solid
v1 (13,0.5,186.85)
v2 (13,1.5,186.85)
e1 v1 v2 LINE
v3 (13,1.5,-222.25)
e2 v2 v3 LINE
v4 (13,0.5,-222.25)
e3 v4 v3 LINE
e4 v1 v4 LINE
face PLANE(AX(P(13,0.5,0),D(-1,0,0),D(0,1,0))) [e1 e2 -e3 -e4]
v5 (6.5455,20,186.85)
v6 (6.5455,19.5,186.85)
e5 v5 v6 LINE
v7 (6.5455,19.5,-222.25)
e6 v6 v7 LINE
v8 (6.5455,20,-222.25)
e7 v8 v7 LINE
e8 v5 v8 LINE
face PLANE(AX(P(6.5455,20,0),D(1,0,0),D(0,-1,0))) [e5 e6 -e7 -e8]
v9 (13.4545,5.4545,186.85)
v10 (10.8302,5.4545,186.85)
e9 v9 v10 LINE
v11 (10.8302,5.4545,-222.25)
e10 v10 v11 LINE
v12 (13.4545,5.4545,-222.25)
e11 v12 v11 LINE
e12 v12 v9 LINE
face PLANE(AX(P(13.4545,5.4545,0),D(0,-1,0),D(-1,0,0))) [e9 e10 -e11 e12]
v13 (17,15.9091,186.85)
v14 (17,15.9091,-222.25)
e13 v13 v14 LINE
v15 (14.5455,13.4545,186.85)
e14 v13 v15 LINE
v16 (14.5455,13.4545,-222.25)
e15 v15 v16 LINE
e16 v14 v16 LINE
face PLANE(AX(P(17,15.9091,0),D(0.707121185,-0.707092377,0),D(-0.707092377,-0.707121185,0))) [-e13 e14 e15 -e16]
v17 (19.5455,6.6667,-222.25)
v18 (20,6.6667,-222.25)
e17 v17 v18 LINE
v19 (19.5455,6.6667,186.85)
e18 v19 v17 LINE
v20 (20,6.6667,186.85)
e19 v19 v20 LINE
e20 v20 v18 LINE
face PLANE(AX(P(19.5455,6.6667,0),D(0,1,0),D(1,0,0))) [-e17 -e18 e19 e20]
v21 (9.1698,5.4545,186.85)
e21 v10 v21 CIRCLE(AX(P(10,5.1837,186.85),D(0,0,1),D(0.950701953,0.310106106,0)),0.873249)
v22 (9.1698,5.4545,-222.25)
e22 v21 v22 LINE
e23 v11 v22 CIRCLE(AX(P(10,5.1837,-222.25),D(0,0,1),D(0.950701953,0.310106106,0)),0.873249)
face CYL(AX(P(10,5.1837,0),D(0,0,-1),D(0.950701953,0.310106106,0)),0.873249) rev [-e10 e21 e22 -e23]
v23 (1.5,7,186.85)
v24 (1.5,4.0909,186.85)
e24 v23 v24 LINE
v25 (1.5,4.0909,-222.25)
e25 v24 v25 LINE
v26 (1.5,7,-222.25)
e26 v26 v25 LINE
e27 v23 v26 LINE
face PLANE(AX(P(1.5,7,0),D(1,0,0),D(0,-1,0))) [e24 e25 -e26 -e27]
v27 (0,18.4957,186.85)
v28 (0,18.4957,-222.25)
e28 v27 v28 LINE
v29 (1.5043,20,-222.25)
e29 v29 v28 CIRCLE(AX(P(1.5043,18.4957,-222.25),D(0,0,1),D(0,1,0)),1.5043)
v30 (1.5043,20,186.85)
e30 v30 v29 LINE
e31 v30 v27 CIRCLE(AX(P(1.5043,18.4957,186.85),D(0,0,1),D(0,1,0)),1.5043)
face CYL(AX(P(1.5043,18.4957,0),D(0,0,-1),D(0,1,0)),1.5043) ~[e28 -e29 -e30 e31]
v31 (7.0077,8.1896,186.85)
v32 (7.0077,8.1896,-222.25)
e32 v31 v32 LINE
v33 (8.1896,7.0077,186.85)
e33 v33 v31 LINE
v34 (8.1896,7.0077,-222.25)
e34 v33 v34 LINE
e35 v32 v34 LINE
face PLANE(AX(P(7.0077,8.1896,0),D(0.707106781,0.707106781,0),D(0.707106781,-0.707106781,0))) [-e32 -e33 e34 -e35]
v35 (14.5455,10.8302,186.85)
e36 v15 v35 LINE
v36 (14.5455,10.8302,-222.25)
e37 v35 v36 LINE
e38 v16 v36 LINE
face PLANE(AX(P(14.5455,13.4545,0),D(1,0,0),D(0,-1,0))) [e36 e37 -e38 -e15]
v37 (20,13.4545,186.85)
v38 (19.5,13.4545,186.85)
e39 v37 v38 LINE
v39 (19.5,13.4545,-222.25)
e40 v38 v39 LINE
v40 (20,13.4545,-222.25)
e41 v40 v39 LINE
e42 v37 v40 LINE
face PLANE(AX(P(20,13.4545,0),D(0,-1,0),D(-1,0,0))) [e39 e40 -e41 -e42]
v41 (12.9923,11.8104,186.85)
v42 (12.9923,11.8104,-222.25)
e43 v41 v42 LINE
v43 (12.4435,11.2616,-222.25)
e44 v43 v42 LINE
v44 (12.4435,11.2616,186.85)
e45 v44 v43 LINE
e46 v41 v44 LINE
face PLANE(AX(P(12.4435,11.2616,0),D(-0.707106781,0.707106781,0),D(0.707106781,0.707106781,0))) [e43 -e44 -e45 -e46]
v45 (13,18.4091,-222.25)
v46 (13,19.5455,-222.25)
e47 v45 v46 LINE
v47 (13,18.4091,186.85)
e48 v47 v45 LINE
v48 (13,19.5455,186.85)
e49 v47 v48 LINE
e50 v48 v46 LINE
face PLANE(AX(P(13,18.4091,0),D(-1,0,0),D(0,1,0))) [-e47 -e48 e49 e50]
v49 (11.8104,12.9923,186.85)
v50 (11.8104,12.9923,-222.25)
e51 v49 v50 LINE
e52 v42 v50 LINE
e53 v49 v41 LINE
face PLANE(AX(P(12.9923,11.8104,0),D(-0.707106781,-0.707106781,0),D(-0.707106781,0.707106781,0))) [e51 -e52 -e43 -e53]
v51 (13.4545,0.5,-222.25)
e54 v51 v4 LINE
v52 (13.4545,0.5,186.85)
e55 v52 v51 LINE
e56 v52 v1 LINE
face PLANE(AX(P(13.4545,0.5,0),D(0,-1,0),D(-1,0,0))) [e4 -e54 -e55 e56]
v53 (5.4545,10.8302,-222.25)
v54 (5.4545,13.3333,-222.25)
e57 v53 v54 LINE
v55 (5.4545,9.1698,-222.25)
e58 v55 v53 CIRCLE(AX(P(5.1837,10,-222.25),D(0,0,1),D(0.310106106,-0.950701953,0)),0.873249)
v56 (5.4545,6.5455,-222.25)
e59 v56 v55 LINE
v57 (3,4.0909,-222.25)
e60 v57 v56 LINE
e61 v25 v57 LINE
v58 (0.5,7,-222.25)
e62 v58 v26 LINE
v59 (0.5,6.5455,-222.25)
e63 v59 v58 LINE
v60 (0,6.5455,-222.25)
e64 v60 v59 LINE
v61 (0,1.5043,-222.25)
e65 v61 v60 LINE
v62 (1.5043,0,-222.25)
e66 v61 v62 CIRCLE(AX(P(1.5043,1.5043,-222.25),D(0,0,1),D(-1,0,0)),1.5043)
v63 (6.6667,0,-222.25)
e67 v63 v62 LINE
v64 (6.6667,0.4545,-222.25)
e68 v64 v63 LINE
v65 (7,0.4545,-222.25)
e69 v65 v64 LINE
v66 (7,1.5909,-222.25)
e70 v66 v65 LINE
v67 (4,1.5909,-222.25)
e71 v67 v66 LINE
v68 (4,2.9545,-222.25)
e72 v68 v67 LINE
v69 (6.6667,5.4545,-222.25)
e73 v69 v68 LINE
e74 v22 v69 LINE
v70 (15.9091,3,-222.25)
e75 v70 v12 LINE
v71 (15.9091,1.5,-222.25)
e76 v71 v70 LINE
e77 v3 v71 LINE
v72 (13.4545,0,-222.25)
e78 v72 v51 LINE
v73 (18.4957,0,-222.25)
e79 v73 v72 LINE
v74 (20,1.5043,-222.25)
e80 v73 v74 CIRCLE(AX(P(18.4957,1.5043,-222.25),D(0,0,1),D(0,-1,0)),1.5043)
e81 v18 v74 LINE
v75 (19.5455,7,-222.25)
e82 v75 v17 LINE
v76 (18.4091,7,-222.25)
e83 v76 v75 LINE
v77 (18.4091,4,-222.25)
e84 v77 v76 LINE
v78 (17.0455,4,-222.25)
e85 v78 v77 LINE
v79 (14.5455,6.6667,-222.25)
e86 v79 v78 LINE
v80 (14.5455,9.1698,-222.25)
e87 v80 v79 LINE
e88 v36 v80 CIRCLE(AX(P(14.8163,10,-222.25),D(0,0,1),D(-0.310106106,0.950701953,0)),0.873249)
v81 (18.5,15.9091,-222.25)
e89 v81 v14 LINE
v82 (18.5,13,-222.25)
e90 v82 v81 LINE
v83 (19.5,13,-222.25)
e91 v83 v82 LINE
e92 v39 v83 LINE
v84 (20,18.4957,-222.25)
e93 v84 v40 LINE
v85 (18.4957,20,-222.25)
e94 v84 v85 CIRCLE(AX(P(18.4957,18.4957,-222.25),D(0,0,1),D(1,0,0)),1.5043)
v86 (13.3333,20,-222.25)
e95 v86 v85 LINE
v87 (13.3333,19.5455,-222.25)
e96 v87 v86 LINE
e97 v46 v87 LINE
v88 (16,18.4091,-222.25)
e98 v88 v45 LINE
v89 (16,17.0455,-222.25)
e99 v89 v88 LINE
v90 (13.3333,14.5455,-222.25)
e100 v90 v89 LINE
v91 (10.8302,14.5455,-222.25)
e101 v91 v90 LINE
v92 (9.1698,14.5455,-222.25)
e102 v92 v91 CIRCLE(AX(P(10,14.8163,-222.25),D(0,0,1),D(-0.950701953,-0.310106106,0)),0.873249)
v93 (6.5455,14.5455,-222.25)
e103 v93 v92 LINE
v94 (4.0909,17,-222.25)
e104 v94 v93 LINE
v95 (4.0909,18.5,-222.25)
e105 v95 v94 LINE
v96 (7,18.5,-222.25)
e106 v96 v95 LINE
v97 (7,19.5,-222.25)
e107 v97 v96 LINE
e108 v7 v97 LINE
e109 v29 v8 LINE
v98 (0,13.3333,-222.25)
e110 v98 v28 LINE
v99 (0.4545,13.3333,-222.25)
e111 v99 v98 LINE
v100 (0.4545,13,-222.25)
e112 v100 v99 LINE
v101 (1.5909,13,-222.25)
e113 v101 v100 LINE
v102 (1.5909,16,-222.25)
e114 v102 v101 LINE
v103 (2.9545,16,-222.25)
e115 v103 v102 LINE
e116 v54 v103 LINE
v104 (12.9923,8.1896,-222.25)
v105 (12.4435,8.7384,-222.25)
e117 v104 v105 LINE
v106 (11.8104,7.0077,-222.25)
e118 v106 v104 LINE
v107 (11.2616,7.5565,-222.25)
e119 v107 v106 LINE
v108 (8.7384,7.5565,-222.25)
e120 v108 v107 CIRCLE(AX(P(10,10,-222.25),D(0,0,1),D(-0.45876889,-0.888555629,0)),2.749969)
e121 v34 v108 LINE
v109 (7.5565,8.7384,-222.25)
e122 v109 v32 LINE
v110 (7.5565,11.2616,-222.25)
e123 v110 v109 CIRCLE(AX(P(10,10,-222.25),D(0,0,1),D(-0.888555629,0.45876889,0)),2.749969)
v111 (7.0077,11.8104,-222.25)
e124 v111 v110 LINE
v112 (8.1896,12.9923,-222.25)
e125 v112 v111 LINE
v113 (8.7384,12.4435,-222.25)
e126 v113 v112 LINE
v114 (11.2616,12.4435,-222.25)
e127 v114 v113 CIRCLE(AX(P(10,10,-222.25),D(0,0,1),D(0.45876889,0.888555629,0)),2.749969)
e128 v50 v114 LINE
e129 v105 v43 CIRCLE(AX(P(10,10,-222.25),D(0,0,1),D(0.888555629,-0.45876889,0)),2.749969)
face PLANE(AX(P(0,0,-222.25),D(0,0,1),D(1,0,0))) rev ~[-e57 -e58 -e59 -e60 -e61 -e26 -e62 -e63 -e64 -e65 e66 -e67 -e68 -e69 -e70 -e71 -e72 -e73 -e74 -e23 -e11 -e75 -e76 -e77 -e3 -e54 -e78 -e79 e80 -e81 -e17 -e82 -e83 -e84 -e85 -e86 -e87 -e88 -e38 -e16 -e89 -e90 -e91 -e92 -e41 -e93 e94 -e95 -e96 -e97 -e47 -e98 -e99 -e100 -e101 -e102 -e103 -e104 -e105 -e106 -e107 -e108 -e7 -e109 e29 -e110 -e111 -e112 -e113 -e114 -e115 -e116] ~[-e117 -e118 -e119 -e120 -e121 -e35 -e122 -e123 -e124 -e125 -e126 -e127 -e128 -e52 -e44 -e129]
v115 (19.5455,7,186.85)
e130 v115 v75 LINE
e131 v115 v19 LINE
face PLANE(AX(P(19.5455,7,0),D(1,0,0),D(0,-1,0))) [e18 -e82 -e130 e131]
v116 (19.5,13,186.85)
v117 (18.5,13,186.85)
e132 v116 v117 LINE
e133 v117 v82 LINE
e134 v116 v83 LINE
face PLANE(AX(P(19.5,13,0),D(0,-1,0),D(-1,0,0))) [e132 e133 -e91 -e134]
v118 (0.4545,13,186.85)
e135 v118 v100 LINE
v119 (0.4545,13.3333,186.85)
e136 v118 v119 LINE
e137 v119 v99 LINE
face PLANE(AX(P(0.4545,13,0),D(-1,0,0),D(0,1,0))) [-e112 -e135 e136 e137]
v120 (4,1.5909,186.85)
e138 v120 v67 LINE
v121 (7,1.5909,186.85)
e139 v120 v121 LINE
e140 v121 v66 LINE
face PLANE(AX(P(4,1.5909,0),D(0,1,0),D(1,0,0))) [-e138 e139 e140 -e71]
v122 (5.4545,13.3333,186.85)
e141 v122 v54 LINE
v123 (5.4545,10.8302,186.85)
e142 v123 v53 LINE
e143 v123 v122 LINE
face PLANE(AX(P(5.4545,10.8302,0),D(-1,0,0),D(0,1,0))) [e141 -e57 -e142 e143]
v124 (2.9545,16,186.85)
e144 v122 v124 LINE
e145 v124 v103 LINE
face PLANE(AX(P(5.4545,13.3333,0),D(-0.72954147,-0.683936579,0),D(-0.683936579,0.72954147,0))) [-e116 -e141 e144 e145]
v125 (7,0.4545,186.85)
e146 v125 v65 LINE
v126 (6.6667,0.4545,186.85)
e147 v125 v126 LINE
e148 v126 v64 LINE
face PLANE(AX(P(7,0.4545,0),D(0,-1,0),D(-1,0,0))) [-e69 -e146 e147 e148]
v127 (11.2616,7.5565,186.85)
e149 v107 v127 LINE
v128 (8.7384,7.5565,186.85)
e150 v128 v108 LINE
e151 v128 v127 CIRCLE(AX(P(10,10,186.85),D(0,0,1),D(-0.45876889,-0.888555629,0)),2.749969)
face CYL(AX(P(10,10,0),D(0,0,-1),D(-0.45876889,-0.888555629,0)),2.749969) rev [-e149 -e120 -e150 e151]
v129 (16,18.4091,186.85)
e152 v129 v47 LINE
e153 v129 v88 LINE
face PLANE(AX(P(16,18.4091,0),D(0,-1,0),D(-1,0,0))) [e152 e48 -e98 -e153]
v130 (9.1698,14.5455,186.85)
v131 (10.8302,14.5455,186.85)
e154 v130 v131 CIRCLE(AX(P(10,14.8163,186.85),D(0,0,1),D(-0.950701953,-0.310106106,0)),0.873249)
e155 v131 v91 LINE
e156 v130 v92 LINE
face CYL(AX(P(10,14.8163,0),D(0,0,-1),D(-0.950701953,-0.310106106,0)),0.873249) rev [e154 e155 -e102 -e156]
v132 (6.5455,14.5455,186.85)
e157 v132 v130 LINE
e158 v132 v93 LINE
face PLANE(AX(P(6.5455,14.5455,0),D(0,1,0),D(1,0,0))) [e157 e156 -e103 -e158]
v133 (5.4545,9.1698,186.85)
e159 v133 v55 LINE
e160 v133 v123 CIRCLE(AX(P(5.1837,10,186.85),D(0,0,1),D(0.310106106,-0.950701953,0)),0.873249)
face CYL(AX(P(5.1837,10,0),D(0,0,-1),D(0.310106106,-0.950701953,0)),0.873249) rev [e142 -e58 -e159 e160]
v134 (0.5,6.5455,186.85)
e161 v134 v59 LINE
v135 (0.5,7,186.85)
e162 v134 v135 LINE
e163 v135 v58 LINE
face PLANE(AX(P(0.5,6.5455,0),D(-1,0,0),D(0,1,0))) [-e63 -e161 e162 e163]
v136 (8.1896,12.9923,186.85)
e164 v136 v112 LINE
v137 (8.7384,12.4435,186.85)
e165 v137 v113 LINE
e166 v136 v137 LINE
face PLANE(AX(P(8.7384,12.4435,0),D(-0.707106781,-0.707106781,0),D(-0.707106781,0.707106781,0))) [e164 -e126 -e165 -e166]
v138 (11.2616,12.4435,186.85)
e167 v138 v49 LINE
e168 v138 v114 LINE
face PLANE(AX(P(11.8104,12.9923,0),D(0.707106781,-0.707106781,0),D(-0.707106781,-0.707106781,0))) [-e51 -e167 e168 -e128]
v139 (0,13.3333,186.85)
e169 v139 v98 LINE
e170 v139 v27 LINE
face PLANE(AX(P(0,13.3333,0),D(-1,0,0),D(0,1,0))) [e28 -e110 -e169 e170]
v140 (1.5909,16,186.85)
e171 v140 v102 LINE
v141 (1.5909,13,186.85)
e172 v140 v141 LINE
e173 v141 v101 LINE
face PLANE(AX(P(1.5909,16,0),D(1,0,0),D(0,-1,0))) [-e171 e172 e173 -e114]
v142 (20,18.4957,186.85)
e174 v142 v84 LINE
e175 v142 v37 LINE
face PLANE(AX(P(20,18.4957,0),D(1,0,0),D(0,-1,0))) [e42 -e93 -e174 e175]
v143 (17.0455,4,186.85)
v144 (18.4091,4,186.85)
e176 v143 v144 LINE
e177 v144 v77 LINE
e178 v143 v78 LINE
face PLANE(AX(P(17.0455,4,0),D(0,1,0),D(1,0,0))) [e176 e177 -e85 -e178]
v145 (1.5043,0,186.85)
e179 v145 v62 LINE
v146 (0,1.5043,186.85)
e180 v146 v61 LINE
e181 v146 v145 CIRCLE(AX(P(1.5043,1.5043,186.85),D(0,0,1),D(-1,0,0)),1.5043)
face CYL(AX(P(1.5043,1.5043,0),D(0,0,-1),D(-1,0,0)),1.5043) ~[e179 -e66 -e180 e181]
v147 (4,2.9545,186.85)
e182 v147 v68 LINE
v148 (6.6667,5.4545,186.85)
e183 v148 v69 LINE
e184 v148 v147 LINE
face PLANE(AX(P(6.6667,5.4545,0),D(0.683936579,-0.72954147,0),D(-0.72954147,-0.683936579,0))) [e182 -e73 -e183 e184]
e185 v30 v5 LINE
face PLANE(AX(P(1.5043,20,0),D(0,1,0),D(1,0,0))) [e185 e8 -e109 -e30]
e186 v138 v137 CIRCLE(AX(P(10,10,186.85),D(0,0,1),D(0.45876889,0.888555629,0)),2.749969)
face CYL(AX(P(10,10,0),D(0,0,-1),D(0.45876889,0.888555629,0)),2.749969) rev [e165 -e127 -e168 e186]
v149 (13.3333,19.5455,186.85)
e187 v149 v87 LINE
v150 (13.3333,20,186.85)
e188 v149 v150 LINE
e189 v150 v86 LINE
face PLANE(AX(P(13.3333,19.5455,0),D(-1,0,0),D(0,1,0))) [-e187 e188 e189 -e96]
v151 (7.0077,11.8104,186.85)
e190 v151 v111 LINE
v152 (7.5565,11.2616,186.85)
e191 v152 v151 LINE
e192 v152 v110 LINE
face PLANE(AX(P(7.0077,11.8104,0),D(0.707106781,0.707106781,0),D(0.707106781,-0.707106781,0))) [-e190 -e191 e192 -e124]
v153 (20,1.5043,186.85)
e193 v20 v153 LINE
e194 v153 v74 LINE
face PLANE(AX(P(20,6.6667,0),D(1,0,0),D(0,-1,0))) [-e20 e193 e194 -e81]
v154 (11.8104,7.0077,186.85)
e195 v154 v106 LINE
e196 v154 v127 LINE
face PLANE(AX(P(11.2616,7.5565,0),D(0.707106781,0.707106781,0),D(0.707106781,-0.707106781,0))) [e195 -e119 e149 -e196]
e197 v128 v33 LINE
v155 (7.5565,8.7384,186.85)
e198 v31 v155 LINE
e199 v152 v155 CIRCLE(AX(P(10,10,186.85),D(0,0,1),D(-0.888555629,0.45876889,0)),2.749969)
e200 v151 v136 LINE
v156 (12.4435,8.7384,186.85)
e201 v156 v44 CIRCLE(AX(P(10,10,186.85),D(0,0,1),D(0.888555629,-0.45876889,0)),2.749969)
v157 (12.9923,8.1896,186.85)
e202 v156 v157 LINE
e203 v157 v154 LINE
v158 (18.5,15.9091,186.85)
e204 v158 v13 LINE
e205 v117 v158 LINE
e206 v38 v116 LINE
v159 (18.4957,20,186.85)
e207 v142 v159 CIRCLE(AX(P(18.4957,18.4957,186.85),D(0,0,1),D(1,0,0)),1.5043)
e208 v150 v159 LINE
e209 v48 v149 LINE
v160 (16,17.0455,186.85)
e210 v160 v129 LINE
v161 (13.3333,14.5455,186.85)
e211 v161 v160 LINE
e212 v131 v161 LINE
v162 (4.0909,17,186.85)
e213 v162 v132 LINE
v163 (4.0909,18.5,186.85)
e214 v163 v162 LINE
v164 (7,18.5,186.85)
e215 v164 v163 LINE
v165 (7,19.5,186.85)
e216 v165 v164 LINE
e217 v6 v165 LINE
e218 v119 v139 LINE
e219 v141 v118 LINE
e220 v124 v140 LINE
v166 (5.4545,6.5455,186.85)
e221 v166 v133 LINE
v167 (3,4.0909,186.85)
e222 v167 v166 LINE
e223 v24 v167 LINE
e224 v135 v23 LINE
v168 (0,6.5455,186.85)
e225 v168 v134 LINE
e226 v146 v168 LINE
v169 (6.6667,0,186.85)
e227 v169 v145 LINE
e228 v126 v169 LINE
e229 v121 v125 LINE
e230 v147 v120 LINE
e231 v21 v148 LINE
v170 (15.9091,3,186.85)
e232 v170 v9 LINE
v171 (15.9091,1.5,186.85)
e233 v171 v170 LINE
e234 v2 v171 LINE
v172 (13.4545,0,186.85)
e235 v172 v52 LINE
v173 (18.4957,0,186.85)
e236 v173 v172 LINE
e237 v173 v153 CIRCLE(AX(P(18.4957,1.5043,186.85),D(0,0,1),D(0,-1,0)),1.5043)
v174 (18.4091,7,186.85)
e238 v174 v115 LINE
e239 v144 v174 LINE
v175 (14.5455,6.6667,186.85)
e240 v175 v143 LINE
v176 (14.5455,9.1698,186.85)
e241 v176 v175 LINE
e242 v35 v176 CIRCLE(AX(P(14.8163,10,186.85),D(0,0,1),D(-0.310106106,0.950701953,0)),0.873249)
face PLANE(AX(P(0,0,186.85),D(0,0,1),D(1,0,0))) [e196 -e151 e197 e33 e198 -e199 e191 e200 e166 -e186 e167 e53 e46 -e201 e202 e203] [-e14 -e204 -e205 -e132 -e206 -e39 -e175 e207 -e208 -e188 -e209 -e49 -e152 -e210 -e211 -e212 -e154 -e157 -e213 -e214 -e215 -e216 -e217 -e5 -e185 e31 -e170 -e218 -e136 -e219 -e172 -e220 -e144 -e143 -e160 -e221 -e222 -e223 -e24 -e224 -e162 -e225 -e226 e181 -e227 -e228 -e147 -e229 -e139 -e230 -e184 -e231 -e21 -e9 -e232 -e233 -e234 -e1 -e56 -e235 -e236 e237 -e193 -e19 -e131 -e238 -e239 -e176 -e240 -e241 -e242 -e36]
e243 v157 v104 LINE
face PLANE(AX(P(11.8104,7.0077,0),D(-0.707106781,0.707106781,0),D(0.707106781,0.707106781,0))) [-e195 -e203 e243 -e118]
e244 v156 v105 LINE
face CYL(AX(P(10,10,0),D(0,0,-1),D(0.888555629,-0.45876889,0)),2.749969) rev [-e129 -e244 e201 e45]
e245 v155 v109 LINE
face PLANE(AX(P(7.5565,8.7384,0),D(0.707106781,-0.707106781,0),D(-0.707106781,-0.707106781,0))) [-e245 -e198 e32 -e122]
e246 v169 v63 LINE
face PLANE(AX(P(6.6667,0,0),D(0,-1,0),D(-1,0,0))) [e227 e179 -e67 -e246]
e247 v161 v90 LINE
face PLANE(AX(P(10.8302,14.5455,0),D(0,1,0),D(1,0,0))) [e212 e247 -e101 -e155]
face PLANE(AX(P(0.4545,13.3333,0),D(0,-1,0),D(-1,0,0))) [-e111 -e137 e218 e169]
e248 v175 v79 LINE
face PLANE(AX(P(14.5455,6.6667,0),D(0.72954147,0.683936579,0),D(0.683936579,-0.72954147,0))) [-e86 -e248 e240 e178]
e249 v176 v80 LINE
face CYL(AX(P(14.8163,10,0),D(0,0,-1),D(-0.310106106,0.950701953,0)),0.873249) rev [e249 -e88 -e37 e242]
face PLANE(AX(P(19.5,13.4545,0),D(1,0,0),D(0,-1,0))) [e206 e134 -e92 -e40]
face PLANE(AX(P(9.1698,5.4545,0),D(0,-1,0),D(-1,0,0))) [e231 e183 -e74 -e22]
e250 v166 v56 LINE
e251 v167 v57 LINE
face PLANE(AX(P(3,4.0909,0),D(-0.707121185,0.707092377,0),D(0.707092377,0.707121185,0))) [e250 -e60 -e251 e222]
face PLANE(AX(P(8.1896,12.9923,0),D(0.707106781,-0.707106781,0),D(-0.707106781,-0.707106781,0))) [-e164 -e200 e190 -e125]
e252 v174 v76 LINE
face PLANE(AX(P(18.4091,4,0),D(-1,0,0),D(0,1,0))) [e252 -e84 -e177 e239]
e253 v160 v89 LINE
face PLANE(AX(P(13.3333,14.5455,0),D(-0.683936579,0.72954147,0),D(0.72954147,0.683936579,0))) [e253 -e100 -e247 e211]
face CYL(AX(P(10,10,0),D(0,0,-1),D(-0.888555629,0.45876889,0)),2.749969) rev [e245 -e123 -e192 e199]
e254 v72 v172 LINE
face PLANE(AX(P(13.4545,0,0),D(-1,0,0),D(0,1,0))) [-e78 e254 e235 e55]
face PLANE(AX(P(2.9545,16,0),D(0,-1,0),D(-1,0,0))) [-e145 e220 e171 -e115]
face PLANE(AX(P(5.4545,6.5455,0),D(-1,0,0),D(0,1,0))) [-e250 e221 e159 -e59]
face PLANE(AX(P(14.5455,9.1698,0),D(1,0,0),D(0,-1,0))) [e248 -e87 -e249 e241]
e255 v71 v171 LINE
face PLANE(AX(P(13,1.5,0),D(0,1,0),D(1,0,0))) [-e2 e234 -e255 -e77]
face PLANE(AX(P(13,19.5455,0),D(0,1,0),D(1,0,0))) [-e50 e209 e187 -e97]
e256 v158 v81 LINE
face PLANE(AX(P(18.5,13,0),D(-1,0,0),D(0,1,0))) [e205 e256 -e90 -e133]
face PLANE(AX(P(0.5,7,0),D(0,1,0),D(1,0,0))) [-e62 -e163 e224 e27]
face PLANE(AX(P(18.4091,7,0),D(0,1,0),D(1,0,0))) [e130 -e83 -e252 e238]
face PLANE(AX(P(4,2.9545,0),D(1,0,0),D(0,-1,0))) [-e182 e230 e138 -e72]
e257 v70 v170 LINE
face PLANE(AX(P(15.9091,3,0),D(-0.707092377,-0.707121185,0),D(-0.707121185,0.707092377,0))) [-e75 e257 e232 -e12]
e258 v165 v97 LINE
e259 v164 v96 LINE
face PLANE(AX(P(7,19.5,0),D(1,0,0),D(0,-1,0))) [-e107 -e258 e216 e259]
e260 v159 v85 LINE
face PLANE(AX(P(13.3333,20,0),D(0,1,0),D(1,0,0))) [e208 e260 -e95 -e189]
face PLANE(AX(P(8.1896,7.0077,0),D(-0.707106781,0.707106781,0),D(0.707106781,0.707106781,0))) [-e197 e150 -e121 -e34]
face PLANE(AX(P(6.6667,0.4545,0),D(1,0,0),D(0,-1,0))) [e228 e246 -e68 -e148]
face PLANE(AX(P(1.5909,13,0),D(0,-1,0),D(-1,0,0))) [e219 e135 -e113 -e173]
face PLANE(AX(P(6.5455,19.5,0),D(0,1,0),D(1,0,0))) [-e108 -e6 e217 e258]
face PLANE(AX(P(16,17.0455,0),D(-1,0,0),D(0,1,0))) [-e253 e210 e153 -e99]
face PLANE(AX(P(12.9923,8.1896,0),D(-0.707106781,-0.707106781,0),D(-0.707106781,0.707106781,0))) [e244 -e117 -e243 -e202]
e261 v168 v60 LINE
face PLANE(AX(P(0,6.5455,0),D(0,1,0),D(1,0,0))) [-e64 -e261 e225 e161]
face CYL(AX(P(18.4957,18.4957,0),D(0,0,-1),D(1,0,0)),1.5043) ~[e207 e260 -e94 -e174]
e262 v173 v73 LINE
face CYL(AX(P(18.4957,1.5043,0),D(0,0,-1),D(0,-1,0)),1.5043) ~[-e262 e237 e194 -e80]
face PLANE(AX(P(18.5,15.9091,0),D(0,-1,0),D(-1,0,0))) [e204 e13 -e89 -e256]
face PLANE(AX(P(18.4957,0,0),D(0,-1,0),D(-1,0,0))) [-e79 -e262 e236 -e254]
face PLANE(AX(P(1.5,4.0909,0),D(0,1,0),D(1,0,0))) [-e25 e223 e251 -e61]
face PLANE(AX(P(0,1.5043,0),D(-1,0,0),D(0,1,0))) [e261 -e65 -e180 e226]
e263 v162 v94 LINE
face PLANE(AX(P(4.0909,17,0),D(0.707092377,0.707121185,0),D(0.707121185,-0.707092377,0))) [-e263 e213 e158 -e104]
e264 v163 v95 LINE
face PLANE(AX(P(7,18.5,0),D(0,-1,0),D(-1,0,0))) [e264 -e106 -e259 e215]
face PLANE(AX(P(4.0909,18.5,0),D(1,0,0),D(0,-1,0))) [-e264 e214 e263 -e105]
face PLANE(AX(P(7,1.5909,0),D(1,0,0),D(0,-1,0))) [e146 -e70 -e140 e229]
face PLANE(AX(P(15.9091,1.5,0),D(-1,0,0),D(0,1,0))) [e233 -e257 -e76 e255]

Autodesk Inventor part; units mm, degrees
ref_plane "YZ Plane" through (0, 0, 0) normal (1, 0, 0) x (0, 1, 0)
ref_plane "XZ Plane" through (0, 0, 0) normal (0, 1, 0) x (-1, 0, 0)
ref_plane "XY Plane" through (0, 0, 0) normal (0, 0, 1) x (1, 0, 0)
sketch "Sketch1" plane through (0, 0, 0) normal (0, 0, 1) x (1, 0, 0)
  line L0 (11.2616, 7.5565) -> (11.8104, 7.0077)
  line L1 (11.8104, 7.0077) -> (12.9923, 8.1896)
  line L2 (12.9923, 8.1896) -> (12.4435, 8.7384)
  arc A0 (12.4435, 8.7384) -> (12.4435, 11.2616) centre (10, 10) ccw
  line L3 (12.4435, 11.2616) -> (12.9923, 11.8104)
  line L4 (12.9923, 11.8104) -> (11.8104, 12.9923)
  line L5 (11.8104, 12.9923) -> (11.2616, 12.4435)
  arc A1 (11.2616, 12.4435) -> (8.7384, 12.4435) centre (10, 10) ccw
  line L6 (8.7384, 12.4435) -> (8.1896, 12.9923)
  line L7 (8.1896, 12.9923) -> (7.0077, 11.8104)
  line L8 (7.0077, 11.8104) -> (7.5565, 11.2616)
  arc A2 (7.5565, 11.2616) -> (7.5565, 8.7384) centre (10, 10) ccw
  line L9 (7.5565, 8.7384) -> (7.0077, 8.1896)
  line L10 (7.0077, 8.1896) -> (8.1896, 7.0077)
  line L11 (8.1896, 7.0077) -> (8.7384, 7.5565)
  arc A3 (8.7384, 7.5565) -> (11.2616, 7.5565) centre (10, 10) ccw
  line L12 (13.4545, 0) -> (13.4545, 0.5)
  line L13 (13.4545, 0.5) -> (13, 0.5)
  line L14 (13, 0.5) -> (13, 1.5)
  line L15 (13, 1.5) -> (15.9091, 1.5)
  line L16 (15.9091, 1.5) -> (15.9091, 3)
  line L17 (15.9091, 3) -> (13.4545, 5.4545)
  line L18 (13.4545, 5.4545) -> (10.8302, 5.4545)
  arc A4 (10.8302, 5.4545) -> (9.1698, 5.4545) centre (10, 5.1837) ccw
  line L19 (9.1698, 5.4545) -> (6.6667, 5.4545)
  line L20 (6.6667, 5.4545) -> (4, 2.9545)
  line L21 (4, 2.9545) -> (4, 1.5909)
  line L22 (4, 1.5909) -> (7, 1.5909)
  line L23 (7, 1.5909) -> (7, 0.4545)
  line L24 (7, 0.4545) -> (6.6667, 0.4545)
  line L25 (6.6667, 0.4545) -> (6.6667, 0)
  line L26 (6.6667, 0) -> (1.5043, 0)
  arc A5 (0, 1.5043) -> (1.5043, 0) centre (1.5043, 1.5043) ccw
  line L27 (0, 1.5043) -> (0, 6.5455)
  line L28 (0, 6.5455) -> (0.5, 6.5455)
  line L29 (0.5, 6.5455) -> (0.5, 7)
  line L30 (0.5, 7) -> (1.5, 7)
  line L31 (1.5, 7) -> (1.5, 4.0909)
  line L32 (1.5, 4.0909) -> (3, 4.0909)
  line L33 (3, 4.0909) -> (5.4545, 6.5455)
  line L34 (5.4545, 6.5455) -> (5.4545, 9.1698)
  arc A6 (5.4545, 9.1698) -> (5.4545, 10.8302) centre (5.1837, 10) ccw
  line L35 (5.4545, 10.8302) -> (5.4545, 13.3333)
  line L36 (5.4545, 13.3333) -> (2.9545, 16)
  line L37 (2.9545, 16) -> (1.5909, 16)
  line L38 (1.5909, 16) -> (1.5909, 13)
  line L39 (1.5909, 13) -> (0.4545, 13)
  line L40 (0.4545, 13) -> (0.4545, 13.3333)
  line L41 (0.4545, 13.3333) -> (0, 13.3333)
  line L42 (0, 13.3333) -> (0, 18.4957)
  arc A7 (1.5043, 20) -> (0, 18.4957) centre (1.5043, 18.4957) ccw
  line L43 (1.5043, 20) -> (6.5455, 20)
  line L44 (6.5455, 20) -> (6.5455, 19.5)
  line L45 (6.5455, 19.5) -> (7, 19.5)
  line L46 (7, 19.5) -> (7, 18.5)
  line L47 (7, 18.5) -> (4.0909, 18.5)
  line L48 (4.0909, 18.5) -> (4.0909, 17)
  line L49 (4.0909, 17) -> (6.5455, 14.5455)
  line L50 (6.5455, 14.5455) -> (9.1698, 14.5455)
  arc A8 (9.1698, 14.5455) -> (10.8302, 14.5455) centre (10, 14.8163) ccw
  line L51 (10.8302, 14.5455) -> (13.3333, 14.5455)
  line L52 (13.3333, 14.5455) -> (16, 17.0455)
  line L53 (16, 17.0455) -> (16, 18.4091)
  line L54 (16, 18.4091) -> (13, 18.4091)
  line L55 (13, 18.4091) -> (13, 19.5455)
  line L56 (13, 19.5455) -> (13.3333, 19.5455)
  line L57 (13.3333, 19.5455) -> (13.3333, 20)
  line L58 (13.3333, 20) -> (18.4957, 20)
  arc A9 (20, 18.4957) -> (18.4957, 20) centre (18.4957, 18.4957) ccw
  line L59 (20, 18.4957) -> (20, 13.4545)
  line L60 (20, 13.4545) -> (19.5, 13.4545)
  line L61 (19.5, 13.4545) -> (19.5, 13)
  line L62 (19.5, 13) -> (18.5, 13)
  line L63 (18.5, 13) -> (18.5, 15.9091)
  line L64 (18.5, 15.9091) -> (17, 15.9091)
  line L65 (17, 15.9091) -> (14.5455, 13.4545)
  line L66 (14.5455, 13.4545) -> (14.5455, 10.8302)
  arc A10 (14.5455, 10.8302) -> (14.5455, 9.1698) centre (14.8163, 10) ccw
  line L67 (14.5455, 9.1698) -> (14.5455, 6.6667)
  line L68 (14.5455, 6.6667) -> (17.0455, 4)
  line L69 (17.0455, 4) -> (18.4091, 4)
  line L70 (18.4091, 4) -> (18.4091, 7)
  line L71 (18.4091, 7) -> (19.5455, 7)
  line L72 (19.5455, 7) -> (19.5455, 6.6667)
  line L73 (19.5455, 6.6667) -> (20, 6.6667)
  line L74 (20, 6.6667) -> (20, 1.5043)
  arc A11 (18.4957, 0) -> (20, 1.5043) centre (18.4957, 1.5043) ccw
  line L75 (18.4957, 0) -> (13.4545, 0)
  point P0 (0, 0)
  point P1 (0.4406, 0.4406)
  point P2 (10, 0)
  point P3 (10, 0)
  point P4 (10, 0)
  point P5 (19.5594, 0.4406)
  point P6 (0, 10)
  point P7 (0, 10)
  point P8 (0, 10)
  point P9 (10, 10)
  point P10 (20, 10)
  point P11 (20, 10)
  point P12 (20, 10)
  point P13 (0.4406, 19.5594)
  point P14 (10, 20)
  point P15 (10, 20)
  point P16 (10, 20)
  point P17 (19.5594, 19.5594)
extrude "Extrusion1" add sketch "Sketch1" along normal mid plane 444.5
sketch "Sketch2" plane through (0, 0, 222.25) normal (0, 0, 1) x (1, 0, 0)
  arc A0 (8.7384, 7.5565) -> (11.2616, 7.5565) centre (10, 10) ccw projected
  line L0 (8.7384, 7.5565) -> (8.1896, 7.0077) projected
  line L1 (8.1896, 7.0077) -> (7.0077, 8.1896) projected
  line L2 (7.0077, 8.1896) -> (7.5565, 8.7384) projected
  arc A1 (7.5565, 11.2616) -> (7.5565, 8.7384) centre (10, 10) ccw projected
  line L3 (7.5565, 11.2616) -> (7.0077, 11.8104) projected
  line L4 (7.0077, 11.8104) -> (8.1896, 12.9923) projected
  line L5 (8.1896, 12.9923) -> (8.7384, 12.4435) projected
  arc A2 (11.2616, 12.4435) -> (8.7384, 12.4435) centre (10, 10) ccw projected
  line L6 (11.2616, 12.4435) -> (11.8104, 12.9923) projected
  line L7 (11.8104, 12.9923) -> (12.9923, 11.8104) projected
  line L8 (12.9923, 11.8104) -> (12.4435, 11.2616) projected
  arc A3 (12.4435, 8.7384) -> (12.4435, 11.2616) centre (10, 10) ccw projected
  line L9 (12.4435, 8.7384) -> (12.9923, 8.1896) projected
  line L10 (12.9923, 8.1896) -> (11.8104, 7.0077) projected
  line L11 (11.8104, 7.0077) -> (11.2616, 7.5565) projected
  line L12 (13.4545, 5.4545) -> (10.8302, 5.4545) projected
  line L13 (15.9091, 3) -> (13.4545, 5.4545) projected
  line L14 (15.9091, 1.5) -> (15.9091, 3) projected
  line L15 (13, 1.5) -> (15.9091, 1.5) projected
  line L16 (13, 0.5) -> (13, 1.5) projected
  line L17 (13.4545, 0.5) -> (13, 0.5) projected
  line L18 (13.4545, 0) -> (13.4545, 0.5) projected
  line L19 (18.4957, 0) -> (13.4545, 0) projected
  arc A4 (18.4957, 0) -> (20, 1.5043) centre (18.4957, 1.5043) ccw projected
  line L20 (20, 6.6667) -> (20, 1.5043) projected
  line L21 (19.5455, 6.6667) -> (20, 6.6667) projected
  line L22 (19.5455, 7) -> (19.5455, 6.6667) projected
  line L23 (18.4091, 7) -> (19.5455, 7) projected
  line L24 (18.4091, 4) -> (18.4091, 7) projected
  line L25 (17.0455, 4) -> (18.4091, 4) projected
  line L26 (14.5455, 6.6667) -> (17.0455, 4) projected
  line L27 (14.5455, 9.1698) -> (14.5455, 6.6667) projected
  arc A5 (14.5455, 10.8302) -> (14.5455, 9.1698) centre (14.8163, 10) ccw projected
  line L28 (14.5455, 13.4545) -> (14.5455, 10.8302) projected
  line L29 (17, 15.9091) -> (14.5455, 13.4545) projected
  line L30 (18.5, 15.9091) -> (17, 15.9091) projected
  line L31 (18.5, 13) -> (18.5, 15.9091) projected
  line L32 (19.5, 13) -> (18.5, 13) projected
  line L33 (19.5, 13.4545) -> (19.5, 13) projected
  line L34 (20, 13.4545) -> (19.5, 13.4545) projected
  line L35 (20, 18.4957) -> (20, 13.4545) projected
  arc A6 (20, 18.4957) -> (18.4957, 20) centre (18.4957, 18.4957) ccw projected
  line L36 (13.3333, 20) -> (18.4957, 20) projected
  line L37 (13.3333, 19.5455) -> (13.3333, 20) projected
  line L38 (13, 19.5455) -> (13.3333, 19.5455) projected
  line L39 (13, 18.4091) -> (13, 19.5455) projected
  line L40 (16, 18.4091) -> (13, 18.4091) projected
  line L41 (16, 17.0455) -> (16, 18.4091) projected
  line L42 (13.3333, 14.5455) -> (16, 17.0455) projected
  line L43 (10.8302, 14.5455) -> (13.3333, 14.5455) projected
  arc A7 (9.1698, 14.5455) -> (10.8302, 14.5455) centre (10, 14.8163) ccw projected
  line L44 (6.5455, 14.5455) -> (9.1698, 14.5455) projected
  line L45 (4.0909, 17) -> (6.5455, 14.5455) projected
  line L46 (4.0909, 18.5) -> (4.0909, 17) projected
  line L47 (7, 18.5) -> (4.0909, 18.5) projected
  line L48 (7, 19.5) -> (7, 18.5) projected
  line L49 (6.5455, 19.5) -> (7, 19.5) projected
  line L50 (6.5455, 20) -> (6.5455, 19.5) projected
  line L51 (1.5043, 20) -> (6.5455, 20) projected
  arc A8 (1.5043, 20) -> (0, 18.4957) centre (1.5043, 18.4957) ccw projected
  line L52 (0, 13.3333) -> (0, 18.4957) projected
  line L53 (0.4545, 13.3333) -> (0, 13.3333) projected
  line L54 (0.4545, 13) -> (0.4545, 13.3333) projected
  line L55 (1.5909, 13) -> (0.4545, 13) projected
  line L56 (1.5909, 16) -> (1.5909, 13) projected
  line L57 (2.9545, 16) -> (1.5909, 16) projected
  line L58 (5.4545, 13.3333) -> (2.9545, 16) projected
  line L59 (5.4545, 10.8302) -> (5.4545, 13.3333) projected
  arc A9 (5.4545, 9.1698) -> (5.4545, 10.8302) centre (5.1837, 10) ccw projected
  line L60 (5.4545, 6.5455) -> (5.4545, 9.1698) projected
  line L61 (3, 4.0909) -> (5.4545, 6.5455) projected
  line L62 (1.5, 4.0909) -> (3, 4.0909) projected
  line L63 (1.5, 7) -> (1.5, 4.0909) projected
  line L64 (0.5, 7) -> (1.5, 7) projected
  line L65 (0.5, 6.5455) -> (0.5, 7) projected
  line L66 (0, 6.5455) -> (0.5, 6.5455) projected
  line L67 (0, 1.5043) -> (0, 6.5455) projected
  arc A10 (0, 1.5043) -> (1.5043, 0) centre (1.5043, 1.5043) ccw projected
  line L68 (6.6667, 0) -> (1.5043, 0) projected
  line L69 (6.6667, 0.4545) -> (6.6667, 0) projected
  line L70 (7, 0.4545) -> (6.6667, 0.4545) projected
  line L71 (7, 1.5909) -> (7, 0.4545) projected
  line L72 (4, 1.5909) -> (7, 1.5909) projected
  line L73 (4, 2.9545) -> (4, 1.5909) projected
  line L74 (6.6667, 5.4545) -> (4, 2.9545) projected
  line L75 (9.1698, 5.4545) -> (6.6667, 5.4545) projected
  arc A11 (10.8302, 5.4545) -> (9.1698, 5.4545) centre (10, 5.1837) ccw projected
  point P0 (0, 0)
extrude "Extrusion2" add sketch "Sketch2" against normal blind 35.4
sketch "Sketch3" plane through (0, 0, 222.25) normal (0, 0, 1) x (1, 0, 0)
  arc A0 (8.7384, 7.5565) -> (11.2616, 7.5565) centre (10, 10) ccw projected
  line L0 (8.7384, 7.5565) -> (8.1896, 7.0077) projected
  line L1 (8.1896, 7.0077) -> (7.0077, 8.1896) projected
  line L2 (7.0077, 8.1896) -> (7.5565, 8.7384) projected
  arc A1 (7.5565, 11.2616) -> (7.5565, 8.7384) centre (10, 10) ccw projected
  line L3 (7.5565, 11.2616) -> (7.0077, 11.8104) projected
  line L4 (7.0077, 11.8104) -> (8.1896, 12.9923) projected
  line L5 (8.1896, 12.9923) -> (8.7384, 12.4435) projected
  arc A2 (11.2616, 12.4435) -> (8.7384, 12.4435) centre (10, 10) ccw projected
  line L6 (11.2616, 12.4435) -> (11.8104, 12.9923) projected
  line L7 (11.8104, 12.9923) -> (12.9923, 11.8104) projected
  line L8 (12.9923, 11.8104) -> (12.4435, 11.2616) projected
  arc A3 (12.4435, 8.7384) -> (12.4435, 11.2616) centre (10, 10) ccw projected
  line L9 (12.4435, 8.7384) -> (12.9923, 8.1896) projected
  line L10 (12.9923, 8.1896) -> (11.8104, 7.0077) projected
  line L11 (11.8104, 7.0077) -> (11.2616, 7.5565) projected
  line L12 (13.4545, 5.4545) -> (10.8302, 5.4545) projected
  line L13 (15.9091, 3) -> (13.4545, 5.4545) projected
  line L14 (15.9091, 1.5) -> (15.9091, 3) projected
  line L15 (13, 1.5) -> (15.9091, 1.5) projected
  line L16 (13, 0.5) -> (13, 1.5) projected
  line L17 (13.4545, 0.5) -> (13, 0.5) projected
  line L18 (13.4545, 0) -> (13.4545, 0.5) projected
  line L19 (18.4957, 0) -> (13.4545, 0) projected
  arc A4 (18.4957, 0) -> (20, 1.5043) centre (18.4957, 1.5043) ccw projected
  line L20 (20, 6.6667) -> (20, 1.5043) projected
  line L21 (19.5455, 6.6667) -> (20, 6.6667) projected
  line L22 (19.5455, 7) -> (19.5455, 6.6667) projected
  line L23 (18.4091, 7) -> (19.5455, 7) projected
  line L24 (18.4091, 4) -> (18.4091, 7) projected
  line L25 (17.0455, 4) -> (18.4091, 4) projected
  line L26 (14.5455, 6.6667) -> (17.0455, 4) projected
  line L27 (14.5455, 9.1698) -> (14.5455, 6.6667) projected
  arc A5 (14.5455, 10.8302) -> (14.5455, 9.1698) centre (14.8163, 10) ccw projected
  line L28 (14.5455, 13.4545) -> (14.5455, 10.8302) projected
  line L29 (17, 15.9091) -> (14.5455, 13.4545) projected
  line L30 (18.5, 15.9091) -> (17, 15.9091) projected
  line L31 (18.5, 13) -> (18.5, 15.9091) projected
  line L32 (19.5, 13) -> (18.5, 13) projected
  line L33 (19.5, 13.4545) -> (19.5, 13) projected
  line L34 (20, 13.4545) -> (19.5, 13.4545) projected
  line L35 (20, 18.4957) -> (20, 13.4545) projected
  arc A6 (20, 18.4957) -> (18.4957, 20) centre (18.4957, 18.4957) ccw projected
  line L36 (13.3333, 20) -> (18.4957, 20) projected
  line L37 (13.3333, 19.5455) -> (13.3333, 20) projected
  line L38 (13, 19.5455) -> (13.3333, 19.5455) projected
  line L39 (13, 18.4091) -> (13, 19.5455) projected
  line L40 (16, 18.4091) -> (13, 18.4091) projected
  line L41 (16, 17.0455) -> (16, 18.4091) projected
  line L42 (13.3333, 14.5455) -> (16, 17.0455) projected
  line L43 (10.8302, 14.5455) -> (13.3333, 14.5455) projected
  arc A7 (9.1698, 14.5455) -> (10.8302, 14.5455) centre (10, 14.8163) ccw projected
  line L44 (6.5455, 14.5455) -> (9.1698, 14.5455) projected
  line L45 (4.0909, 17) -> (6.5455, 14.5455) projected
  line L46 (4.0909, 18.5) -> (4.0909, 17) projected
  line L47 (7, 18.5) -> (4.0909, 18.5) projected
  line L48 (7, 19.5) -> (7, 18.5) projected
  line L49 (6.5455, 19.5) -> (7, 19.5) projected
  line L50 (6.5455, 20) -> (6.5455, 19.5) projected
  line L51 (1.5043, 20) -> (6.5455, 20) projected
  arc A8 (1.5043, 20) -> (0, 18.4957) centre (1.5043, 18.4957) ccw projected
  line L52 (0, 13.3333) -> (0, 18.4957) projected
  line L53 (0.4545, 13.3333) -> (0, 13.3333) projected
  line L54 (0.4545, 13) -> (0.4545, 13.3333) projected
  line L55 (1.5909, 13) -> (0.4545, 13) projected
  line L56 (1.5909, 16) -> (1.5909, 13) projected
  line L57 (2.9545, 16) -> (1.5909, 16) projected
  line L58 (5.4545, 13.3333) -> (2.9545, 16) projected
  line L59 (5.4545, 10.8302) -> (5.4545, 13.3333) projected
  arc A9 (5.4545, 9.1698) -> (5.4545, 10.8302) centre (5.1837, 10) ccw projected
  line L60 (5.4545, 6.5455) -> (5.4545, 9.1698) projected
  line L61 (3, 4.0909) -> (5.4545, 6.5455) projected
  line L62 (1.5, 4.0909) -> (3, 4.0909) projected
  line L63 (1.5, 7) -> (1.5, 4.0909) projected
  line L64 (0.5, 7) -> (1.5, 7) projected
  line L65 (0.5, 6.5455) -> (0.5, 7) projected
  line L66 (0, 6.5455) -> (0.5, 6.5455) projected
  line L67 (0, 1.5043) -> (0, 6.5455) projected
  arc A10 (0, 1.5043) -> (1.5043, 0) centre (1.5043, 1.5043) ccw projected
  line L68 (6.6667, 0) -> (1.5043, 0) projected
  line L69 (6.6667, 0.4545) -> (6.6667, 0) projected
  line L70 (7, 0.4545) -> (6.6667, 0.4545) projected
  line L71 (7, 1.5909) -> (7, 0.4545) projected
  line L72 (4, 1.5909) -> (7, 1.5909) projected
  line L73 (4, 2.9545) -> (4, 1.5909) projected
  line L74 (6.6667, 5.4545) -> (4, 2.9545) projected
  line L75 (9.1698, 5.4545) -> (6.6667, 5.4545) projected
  arc A11 (10.8302, 5.4545) -> (9.1698, 5.4545) centre (10, 5.1837) ccw projected
  point P0 (0, 0)
extrude "Extrusion3" cut sketch "Sketch3" against normal blind 35.4
properties part number "Frame side"
